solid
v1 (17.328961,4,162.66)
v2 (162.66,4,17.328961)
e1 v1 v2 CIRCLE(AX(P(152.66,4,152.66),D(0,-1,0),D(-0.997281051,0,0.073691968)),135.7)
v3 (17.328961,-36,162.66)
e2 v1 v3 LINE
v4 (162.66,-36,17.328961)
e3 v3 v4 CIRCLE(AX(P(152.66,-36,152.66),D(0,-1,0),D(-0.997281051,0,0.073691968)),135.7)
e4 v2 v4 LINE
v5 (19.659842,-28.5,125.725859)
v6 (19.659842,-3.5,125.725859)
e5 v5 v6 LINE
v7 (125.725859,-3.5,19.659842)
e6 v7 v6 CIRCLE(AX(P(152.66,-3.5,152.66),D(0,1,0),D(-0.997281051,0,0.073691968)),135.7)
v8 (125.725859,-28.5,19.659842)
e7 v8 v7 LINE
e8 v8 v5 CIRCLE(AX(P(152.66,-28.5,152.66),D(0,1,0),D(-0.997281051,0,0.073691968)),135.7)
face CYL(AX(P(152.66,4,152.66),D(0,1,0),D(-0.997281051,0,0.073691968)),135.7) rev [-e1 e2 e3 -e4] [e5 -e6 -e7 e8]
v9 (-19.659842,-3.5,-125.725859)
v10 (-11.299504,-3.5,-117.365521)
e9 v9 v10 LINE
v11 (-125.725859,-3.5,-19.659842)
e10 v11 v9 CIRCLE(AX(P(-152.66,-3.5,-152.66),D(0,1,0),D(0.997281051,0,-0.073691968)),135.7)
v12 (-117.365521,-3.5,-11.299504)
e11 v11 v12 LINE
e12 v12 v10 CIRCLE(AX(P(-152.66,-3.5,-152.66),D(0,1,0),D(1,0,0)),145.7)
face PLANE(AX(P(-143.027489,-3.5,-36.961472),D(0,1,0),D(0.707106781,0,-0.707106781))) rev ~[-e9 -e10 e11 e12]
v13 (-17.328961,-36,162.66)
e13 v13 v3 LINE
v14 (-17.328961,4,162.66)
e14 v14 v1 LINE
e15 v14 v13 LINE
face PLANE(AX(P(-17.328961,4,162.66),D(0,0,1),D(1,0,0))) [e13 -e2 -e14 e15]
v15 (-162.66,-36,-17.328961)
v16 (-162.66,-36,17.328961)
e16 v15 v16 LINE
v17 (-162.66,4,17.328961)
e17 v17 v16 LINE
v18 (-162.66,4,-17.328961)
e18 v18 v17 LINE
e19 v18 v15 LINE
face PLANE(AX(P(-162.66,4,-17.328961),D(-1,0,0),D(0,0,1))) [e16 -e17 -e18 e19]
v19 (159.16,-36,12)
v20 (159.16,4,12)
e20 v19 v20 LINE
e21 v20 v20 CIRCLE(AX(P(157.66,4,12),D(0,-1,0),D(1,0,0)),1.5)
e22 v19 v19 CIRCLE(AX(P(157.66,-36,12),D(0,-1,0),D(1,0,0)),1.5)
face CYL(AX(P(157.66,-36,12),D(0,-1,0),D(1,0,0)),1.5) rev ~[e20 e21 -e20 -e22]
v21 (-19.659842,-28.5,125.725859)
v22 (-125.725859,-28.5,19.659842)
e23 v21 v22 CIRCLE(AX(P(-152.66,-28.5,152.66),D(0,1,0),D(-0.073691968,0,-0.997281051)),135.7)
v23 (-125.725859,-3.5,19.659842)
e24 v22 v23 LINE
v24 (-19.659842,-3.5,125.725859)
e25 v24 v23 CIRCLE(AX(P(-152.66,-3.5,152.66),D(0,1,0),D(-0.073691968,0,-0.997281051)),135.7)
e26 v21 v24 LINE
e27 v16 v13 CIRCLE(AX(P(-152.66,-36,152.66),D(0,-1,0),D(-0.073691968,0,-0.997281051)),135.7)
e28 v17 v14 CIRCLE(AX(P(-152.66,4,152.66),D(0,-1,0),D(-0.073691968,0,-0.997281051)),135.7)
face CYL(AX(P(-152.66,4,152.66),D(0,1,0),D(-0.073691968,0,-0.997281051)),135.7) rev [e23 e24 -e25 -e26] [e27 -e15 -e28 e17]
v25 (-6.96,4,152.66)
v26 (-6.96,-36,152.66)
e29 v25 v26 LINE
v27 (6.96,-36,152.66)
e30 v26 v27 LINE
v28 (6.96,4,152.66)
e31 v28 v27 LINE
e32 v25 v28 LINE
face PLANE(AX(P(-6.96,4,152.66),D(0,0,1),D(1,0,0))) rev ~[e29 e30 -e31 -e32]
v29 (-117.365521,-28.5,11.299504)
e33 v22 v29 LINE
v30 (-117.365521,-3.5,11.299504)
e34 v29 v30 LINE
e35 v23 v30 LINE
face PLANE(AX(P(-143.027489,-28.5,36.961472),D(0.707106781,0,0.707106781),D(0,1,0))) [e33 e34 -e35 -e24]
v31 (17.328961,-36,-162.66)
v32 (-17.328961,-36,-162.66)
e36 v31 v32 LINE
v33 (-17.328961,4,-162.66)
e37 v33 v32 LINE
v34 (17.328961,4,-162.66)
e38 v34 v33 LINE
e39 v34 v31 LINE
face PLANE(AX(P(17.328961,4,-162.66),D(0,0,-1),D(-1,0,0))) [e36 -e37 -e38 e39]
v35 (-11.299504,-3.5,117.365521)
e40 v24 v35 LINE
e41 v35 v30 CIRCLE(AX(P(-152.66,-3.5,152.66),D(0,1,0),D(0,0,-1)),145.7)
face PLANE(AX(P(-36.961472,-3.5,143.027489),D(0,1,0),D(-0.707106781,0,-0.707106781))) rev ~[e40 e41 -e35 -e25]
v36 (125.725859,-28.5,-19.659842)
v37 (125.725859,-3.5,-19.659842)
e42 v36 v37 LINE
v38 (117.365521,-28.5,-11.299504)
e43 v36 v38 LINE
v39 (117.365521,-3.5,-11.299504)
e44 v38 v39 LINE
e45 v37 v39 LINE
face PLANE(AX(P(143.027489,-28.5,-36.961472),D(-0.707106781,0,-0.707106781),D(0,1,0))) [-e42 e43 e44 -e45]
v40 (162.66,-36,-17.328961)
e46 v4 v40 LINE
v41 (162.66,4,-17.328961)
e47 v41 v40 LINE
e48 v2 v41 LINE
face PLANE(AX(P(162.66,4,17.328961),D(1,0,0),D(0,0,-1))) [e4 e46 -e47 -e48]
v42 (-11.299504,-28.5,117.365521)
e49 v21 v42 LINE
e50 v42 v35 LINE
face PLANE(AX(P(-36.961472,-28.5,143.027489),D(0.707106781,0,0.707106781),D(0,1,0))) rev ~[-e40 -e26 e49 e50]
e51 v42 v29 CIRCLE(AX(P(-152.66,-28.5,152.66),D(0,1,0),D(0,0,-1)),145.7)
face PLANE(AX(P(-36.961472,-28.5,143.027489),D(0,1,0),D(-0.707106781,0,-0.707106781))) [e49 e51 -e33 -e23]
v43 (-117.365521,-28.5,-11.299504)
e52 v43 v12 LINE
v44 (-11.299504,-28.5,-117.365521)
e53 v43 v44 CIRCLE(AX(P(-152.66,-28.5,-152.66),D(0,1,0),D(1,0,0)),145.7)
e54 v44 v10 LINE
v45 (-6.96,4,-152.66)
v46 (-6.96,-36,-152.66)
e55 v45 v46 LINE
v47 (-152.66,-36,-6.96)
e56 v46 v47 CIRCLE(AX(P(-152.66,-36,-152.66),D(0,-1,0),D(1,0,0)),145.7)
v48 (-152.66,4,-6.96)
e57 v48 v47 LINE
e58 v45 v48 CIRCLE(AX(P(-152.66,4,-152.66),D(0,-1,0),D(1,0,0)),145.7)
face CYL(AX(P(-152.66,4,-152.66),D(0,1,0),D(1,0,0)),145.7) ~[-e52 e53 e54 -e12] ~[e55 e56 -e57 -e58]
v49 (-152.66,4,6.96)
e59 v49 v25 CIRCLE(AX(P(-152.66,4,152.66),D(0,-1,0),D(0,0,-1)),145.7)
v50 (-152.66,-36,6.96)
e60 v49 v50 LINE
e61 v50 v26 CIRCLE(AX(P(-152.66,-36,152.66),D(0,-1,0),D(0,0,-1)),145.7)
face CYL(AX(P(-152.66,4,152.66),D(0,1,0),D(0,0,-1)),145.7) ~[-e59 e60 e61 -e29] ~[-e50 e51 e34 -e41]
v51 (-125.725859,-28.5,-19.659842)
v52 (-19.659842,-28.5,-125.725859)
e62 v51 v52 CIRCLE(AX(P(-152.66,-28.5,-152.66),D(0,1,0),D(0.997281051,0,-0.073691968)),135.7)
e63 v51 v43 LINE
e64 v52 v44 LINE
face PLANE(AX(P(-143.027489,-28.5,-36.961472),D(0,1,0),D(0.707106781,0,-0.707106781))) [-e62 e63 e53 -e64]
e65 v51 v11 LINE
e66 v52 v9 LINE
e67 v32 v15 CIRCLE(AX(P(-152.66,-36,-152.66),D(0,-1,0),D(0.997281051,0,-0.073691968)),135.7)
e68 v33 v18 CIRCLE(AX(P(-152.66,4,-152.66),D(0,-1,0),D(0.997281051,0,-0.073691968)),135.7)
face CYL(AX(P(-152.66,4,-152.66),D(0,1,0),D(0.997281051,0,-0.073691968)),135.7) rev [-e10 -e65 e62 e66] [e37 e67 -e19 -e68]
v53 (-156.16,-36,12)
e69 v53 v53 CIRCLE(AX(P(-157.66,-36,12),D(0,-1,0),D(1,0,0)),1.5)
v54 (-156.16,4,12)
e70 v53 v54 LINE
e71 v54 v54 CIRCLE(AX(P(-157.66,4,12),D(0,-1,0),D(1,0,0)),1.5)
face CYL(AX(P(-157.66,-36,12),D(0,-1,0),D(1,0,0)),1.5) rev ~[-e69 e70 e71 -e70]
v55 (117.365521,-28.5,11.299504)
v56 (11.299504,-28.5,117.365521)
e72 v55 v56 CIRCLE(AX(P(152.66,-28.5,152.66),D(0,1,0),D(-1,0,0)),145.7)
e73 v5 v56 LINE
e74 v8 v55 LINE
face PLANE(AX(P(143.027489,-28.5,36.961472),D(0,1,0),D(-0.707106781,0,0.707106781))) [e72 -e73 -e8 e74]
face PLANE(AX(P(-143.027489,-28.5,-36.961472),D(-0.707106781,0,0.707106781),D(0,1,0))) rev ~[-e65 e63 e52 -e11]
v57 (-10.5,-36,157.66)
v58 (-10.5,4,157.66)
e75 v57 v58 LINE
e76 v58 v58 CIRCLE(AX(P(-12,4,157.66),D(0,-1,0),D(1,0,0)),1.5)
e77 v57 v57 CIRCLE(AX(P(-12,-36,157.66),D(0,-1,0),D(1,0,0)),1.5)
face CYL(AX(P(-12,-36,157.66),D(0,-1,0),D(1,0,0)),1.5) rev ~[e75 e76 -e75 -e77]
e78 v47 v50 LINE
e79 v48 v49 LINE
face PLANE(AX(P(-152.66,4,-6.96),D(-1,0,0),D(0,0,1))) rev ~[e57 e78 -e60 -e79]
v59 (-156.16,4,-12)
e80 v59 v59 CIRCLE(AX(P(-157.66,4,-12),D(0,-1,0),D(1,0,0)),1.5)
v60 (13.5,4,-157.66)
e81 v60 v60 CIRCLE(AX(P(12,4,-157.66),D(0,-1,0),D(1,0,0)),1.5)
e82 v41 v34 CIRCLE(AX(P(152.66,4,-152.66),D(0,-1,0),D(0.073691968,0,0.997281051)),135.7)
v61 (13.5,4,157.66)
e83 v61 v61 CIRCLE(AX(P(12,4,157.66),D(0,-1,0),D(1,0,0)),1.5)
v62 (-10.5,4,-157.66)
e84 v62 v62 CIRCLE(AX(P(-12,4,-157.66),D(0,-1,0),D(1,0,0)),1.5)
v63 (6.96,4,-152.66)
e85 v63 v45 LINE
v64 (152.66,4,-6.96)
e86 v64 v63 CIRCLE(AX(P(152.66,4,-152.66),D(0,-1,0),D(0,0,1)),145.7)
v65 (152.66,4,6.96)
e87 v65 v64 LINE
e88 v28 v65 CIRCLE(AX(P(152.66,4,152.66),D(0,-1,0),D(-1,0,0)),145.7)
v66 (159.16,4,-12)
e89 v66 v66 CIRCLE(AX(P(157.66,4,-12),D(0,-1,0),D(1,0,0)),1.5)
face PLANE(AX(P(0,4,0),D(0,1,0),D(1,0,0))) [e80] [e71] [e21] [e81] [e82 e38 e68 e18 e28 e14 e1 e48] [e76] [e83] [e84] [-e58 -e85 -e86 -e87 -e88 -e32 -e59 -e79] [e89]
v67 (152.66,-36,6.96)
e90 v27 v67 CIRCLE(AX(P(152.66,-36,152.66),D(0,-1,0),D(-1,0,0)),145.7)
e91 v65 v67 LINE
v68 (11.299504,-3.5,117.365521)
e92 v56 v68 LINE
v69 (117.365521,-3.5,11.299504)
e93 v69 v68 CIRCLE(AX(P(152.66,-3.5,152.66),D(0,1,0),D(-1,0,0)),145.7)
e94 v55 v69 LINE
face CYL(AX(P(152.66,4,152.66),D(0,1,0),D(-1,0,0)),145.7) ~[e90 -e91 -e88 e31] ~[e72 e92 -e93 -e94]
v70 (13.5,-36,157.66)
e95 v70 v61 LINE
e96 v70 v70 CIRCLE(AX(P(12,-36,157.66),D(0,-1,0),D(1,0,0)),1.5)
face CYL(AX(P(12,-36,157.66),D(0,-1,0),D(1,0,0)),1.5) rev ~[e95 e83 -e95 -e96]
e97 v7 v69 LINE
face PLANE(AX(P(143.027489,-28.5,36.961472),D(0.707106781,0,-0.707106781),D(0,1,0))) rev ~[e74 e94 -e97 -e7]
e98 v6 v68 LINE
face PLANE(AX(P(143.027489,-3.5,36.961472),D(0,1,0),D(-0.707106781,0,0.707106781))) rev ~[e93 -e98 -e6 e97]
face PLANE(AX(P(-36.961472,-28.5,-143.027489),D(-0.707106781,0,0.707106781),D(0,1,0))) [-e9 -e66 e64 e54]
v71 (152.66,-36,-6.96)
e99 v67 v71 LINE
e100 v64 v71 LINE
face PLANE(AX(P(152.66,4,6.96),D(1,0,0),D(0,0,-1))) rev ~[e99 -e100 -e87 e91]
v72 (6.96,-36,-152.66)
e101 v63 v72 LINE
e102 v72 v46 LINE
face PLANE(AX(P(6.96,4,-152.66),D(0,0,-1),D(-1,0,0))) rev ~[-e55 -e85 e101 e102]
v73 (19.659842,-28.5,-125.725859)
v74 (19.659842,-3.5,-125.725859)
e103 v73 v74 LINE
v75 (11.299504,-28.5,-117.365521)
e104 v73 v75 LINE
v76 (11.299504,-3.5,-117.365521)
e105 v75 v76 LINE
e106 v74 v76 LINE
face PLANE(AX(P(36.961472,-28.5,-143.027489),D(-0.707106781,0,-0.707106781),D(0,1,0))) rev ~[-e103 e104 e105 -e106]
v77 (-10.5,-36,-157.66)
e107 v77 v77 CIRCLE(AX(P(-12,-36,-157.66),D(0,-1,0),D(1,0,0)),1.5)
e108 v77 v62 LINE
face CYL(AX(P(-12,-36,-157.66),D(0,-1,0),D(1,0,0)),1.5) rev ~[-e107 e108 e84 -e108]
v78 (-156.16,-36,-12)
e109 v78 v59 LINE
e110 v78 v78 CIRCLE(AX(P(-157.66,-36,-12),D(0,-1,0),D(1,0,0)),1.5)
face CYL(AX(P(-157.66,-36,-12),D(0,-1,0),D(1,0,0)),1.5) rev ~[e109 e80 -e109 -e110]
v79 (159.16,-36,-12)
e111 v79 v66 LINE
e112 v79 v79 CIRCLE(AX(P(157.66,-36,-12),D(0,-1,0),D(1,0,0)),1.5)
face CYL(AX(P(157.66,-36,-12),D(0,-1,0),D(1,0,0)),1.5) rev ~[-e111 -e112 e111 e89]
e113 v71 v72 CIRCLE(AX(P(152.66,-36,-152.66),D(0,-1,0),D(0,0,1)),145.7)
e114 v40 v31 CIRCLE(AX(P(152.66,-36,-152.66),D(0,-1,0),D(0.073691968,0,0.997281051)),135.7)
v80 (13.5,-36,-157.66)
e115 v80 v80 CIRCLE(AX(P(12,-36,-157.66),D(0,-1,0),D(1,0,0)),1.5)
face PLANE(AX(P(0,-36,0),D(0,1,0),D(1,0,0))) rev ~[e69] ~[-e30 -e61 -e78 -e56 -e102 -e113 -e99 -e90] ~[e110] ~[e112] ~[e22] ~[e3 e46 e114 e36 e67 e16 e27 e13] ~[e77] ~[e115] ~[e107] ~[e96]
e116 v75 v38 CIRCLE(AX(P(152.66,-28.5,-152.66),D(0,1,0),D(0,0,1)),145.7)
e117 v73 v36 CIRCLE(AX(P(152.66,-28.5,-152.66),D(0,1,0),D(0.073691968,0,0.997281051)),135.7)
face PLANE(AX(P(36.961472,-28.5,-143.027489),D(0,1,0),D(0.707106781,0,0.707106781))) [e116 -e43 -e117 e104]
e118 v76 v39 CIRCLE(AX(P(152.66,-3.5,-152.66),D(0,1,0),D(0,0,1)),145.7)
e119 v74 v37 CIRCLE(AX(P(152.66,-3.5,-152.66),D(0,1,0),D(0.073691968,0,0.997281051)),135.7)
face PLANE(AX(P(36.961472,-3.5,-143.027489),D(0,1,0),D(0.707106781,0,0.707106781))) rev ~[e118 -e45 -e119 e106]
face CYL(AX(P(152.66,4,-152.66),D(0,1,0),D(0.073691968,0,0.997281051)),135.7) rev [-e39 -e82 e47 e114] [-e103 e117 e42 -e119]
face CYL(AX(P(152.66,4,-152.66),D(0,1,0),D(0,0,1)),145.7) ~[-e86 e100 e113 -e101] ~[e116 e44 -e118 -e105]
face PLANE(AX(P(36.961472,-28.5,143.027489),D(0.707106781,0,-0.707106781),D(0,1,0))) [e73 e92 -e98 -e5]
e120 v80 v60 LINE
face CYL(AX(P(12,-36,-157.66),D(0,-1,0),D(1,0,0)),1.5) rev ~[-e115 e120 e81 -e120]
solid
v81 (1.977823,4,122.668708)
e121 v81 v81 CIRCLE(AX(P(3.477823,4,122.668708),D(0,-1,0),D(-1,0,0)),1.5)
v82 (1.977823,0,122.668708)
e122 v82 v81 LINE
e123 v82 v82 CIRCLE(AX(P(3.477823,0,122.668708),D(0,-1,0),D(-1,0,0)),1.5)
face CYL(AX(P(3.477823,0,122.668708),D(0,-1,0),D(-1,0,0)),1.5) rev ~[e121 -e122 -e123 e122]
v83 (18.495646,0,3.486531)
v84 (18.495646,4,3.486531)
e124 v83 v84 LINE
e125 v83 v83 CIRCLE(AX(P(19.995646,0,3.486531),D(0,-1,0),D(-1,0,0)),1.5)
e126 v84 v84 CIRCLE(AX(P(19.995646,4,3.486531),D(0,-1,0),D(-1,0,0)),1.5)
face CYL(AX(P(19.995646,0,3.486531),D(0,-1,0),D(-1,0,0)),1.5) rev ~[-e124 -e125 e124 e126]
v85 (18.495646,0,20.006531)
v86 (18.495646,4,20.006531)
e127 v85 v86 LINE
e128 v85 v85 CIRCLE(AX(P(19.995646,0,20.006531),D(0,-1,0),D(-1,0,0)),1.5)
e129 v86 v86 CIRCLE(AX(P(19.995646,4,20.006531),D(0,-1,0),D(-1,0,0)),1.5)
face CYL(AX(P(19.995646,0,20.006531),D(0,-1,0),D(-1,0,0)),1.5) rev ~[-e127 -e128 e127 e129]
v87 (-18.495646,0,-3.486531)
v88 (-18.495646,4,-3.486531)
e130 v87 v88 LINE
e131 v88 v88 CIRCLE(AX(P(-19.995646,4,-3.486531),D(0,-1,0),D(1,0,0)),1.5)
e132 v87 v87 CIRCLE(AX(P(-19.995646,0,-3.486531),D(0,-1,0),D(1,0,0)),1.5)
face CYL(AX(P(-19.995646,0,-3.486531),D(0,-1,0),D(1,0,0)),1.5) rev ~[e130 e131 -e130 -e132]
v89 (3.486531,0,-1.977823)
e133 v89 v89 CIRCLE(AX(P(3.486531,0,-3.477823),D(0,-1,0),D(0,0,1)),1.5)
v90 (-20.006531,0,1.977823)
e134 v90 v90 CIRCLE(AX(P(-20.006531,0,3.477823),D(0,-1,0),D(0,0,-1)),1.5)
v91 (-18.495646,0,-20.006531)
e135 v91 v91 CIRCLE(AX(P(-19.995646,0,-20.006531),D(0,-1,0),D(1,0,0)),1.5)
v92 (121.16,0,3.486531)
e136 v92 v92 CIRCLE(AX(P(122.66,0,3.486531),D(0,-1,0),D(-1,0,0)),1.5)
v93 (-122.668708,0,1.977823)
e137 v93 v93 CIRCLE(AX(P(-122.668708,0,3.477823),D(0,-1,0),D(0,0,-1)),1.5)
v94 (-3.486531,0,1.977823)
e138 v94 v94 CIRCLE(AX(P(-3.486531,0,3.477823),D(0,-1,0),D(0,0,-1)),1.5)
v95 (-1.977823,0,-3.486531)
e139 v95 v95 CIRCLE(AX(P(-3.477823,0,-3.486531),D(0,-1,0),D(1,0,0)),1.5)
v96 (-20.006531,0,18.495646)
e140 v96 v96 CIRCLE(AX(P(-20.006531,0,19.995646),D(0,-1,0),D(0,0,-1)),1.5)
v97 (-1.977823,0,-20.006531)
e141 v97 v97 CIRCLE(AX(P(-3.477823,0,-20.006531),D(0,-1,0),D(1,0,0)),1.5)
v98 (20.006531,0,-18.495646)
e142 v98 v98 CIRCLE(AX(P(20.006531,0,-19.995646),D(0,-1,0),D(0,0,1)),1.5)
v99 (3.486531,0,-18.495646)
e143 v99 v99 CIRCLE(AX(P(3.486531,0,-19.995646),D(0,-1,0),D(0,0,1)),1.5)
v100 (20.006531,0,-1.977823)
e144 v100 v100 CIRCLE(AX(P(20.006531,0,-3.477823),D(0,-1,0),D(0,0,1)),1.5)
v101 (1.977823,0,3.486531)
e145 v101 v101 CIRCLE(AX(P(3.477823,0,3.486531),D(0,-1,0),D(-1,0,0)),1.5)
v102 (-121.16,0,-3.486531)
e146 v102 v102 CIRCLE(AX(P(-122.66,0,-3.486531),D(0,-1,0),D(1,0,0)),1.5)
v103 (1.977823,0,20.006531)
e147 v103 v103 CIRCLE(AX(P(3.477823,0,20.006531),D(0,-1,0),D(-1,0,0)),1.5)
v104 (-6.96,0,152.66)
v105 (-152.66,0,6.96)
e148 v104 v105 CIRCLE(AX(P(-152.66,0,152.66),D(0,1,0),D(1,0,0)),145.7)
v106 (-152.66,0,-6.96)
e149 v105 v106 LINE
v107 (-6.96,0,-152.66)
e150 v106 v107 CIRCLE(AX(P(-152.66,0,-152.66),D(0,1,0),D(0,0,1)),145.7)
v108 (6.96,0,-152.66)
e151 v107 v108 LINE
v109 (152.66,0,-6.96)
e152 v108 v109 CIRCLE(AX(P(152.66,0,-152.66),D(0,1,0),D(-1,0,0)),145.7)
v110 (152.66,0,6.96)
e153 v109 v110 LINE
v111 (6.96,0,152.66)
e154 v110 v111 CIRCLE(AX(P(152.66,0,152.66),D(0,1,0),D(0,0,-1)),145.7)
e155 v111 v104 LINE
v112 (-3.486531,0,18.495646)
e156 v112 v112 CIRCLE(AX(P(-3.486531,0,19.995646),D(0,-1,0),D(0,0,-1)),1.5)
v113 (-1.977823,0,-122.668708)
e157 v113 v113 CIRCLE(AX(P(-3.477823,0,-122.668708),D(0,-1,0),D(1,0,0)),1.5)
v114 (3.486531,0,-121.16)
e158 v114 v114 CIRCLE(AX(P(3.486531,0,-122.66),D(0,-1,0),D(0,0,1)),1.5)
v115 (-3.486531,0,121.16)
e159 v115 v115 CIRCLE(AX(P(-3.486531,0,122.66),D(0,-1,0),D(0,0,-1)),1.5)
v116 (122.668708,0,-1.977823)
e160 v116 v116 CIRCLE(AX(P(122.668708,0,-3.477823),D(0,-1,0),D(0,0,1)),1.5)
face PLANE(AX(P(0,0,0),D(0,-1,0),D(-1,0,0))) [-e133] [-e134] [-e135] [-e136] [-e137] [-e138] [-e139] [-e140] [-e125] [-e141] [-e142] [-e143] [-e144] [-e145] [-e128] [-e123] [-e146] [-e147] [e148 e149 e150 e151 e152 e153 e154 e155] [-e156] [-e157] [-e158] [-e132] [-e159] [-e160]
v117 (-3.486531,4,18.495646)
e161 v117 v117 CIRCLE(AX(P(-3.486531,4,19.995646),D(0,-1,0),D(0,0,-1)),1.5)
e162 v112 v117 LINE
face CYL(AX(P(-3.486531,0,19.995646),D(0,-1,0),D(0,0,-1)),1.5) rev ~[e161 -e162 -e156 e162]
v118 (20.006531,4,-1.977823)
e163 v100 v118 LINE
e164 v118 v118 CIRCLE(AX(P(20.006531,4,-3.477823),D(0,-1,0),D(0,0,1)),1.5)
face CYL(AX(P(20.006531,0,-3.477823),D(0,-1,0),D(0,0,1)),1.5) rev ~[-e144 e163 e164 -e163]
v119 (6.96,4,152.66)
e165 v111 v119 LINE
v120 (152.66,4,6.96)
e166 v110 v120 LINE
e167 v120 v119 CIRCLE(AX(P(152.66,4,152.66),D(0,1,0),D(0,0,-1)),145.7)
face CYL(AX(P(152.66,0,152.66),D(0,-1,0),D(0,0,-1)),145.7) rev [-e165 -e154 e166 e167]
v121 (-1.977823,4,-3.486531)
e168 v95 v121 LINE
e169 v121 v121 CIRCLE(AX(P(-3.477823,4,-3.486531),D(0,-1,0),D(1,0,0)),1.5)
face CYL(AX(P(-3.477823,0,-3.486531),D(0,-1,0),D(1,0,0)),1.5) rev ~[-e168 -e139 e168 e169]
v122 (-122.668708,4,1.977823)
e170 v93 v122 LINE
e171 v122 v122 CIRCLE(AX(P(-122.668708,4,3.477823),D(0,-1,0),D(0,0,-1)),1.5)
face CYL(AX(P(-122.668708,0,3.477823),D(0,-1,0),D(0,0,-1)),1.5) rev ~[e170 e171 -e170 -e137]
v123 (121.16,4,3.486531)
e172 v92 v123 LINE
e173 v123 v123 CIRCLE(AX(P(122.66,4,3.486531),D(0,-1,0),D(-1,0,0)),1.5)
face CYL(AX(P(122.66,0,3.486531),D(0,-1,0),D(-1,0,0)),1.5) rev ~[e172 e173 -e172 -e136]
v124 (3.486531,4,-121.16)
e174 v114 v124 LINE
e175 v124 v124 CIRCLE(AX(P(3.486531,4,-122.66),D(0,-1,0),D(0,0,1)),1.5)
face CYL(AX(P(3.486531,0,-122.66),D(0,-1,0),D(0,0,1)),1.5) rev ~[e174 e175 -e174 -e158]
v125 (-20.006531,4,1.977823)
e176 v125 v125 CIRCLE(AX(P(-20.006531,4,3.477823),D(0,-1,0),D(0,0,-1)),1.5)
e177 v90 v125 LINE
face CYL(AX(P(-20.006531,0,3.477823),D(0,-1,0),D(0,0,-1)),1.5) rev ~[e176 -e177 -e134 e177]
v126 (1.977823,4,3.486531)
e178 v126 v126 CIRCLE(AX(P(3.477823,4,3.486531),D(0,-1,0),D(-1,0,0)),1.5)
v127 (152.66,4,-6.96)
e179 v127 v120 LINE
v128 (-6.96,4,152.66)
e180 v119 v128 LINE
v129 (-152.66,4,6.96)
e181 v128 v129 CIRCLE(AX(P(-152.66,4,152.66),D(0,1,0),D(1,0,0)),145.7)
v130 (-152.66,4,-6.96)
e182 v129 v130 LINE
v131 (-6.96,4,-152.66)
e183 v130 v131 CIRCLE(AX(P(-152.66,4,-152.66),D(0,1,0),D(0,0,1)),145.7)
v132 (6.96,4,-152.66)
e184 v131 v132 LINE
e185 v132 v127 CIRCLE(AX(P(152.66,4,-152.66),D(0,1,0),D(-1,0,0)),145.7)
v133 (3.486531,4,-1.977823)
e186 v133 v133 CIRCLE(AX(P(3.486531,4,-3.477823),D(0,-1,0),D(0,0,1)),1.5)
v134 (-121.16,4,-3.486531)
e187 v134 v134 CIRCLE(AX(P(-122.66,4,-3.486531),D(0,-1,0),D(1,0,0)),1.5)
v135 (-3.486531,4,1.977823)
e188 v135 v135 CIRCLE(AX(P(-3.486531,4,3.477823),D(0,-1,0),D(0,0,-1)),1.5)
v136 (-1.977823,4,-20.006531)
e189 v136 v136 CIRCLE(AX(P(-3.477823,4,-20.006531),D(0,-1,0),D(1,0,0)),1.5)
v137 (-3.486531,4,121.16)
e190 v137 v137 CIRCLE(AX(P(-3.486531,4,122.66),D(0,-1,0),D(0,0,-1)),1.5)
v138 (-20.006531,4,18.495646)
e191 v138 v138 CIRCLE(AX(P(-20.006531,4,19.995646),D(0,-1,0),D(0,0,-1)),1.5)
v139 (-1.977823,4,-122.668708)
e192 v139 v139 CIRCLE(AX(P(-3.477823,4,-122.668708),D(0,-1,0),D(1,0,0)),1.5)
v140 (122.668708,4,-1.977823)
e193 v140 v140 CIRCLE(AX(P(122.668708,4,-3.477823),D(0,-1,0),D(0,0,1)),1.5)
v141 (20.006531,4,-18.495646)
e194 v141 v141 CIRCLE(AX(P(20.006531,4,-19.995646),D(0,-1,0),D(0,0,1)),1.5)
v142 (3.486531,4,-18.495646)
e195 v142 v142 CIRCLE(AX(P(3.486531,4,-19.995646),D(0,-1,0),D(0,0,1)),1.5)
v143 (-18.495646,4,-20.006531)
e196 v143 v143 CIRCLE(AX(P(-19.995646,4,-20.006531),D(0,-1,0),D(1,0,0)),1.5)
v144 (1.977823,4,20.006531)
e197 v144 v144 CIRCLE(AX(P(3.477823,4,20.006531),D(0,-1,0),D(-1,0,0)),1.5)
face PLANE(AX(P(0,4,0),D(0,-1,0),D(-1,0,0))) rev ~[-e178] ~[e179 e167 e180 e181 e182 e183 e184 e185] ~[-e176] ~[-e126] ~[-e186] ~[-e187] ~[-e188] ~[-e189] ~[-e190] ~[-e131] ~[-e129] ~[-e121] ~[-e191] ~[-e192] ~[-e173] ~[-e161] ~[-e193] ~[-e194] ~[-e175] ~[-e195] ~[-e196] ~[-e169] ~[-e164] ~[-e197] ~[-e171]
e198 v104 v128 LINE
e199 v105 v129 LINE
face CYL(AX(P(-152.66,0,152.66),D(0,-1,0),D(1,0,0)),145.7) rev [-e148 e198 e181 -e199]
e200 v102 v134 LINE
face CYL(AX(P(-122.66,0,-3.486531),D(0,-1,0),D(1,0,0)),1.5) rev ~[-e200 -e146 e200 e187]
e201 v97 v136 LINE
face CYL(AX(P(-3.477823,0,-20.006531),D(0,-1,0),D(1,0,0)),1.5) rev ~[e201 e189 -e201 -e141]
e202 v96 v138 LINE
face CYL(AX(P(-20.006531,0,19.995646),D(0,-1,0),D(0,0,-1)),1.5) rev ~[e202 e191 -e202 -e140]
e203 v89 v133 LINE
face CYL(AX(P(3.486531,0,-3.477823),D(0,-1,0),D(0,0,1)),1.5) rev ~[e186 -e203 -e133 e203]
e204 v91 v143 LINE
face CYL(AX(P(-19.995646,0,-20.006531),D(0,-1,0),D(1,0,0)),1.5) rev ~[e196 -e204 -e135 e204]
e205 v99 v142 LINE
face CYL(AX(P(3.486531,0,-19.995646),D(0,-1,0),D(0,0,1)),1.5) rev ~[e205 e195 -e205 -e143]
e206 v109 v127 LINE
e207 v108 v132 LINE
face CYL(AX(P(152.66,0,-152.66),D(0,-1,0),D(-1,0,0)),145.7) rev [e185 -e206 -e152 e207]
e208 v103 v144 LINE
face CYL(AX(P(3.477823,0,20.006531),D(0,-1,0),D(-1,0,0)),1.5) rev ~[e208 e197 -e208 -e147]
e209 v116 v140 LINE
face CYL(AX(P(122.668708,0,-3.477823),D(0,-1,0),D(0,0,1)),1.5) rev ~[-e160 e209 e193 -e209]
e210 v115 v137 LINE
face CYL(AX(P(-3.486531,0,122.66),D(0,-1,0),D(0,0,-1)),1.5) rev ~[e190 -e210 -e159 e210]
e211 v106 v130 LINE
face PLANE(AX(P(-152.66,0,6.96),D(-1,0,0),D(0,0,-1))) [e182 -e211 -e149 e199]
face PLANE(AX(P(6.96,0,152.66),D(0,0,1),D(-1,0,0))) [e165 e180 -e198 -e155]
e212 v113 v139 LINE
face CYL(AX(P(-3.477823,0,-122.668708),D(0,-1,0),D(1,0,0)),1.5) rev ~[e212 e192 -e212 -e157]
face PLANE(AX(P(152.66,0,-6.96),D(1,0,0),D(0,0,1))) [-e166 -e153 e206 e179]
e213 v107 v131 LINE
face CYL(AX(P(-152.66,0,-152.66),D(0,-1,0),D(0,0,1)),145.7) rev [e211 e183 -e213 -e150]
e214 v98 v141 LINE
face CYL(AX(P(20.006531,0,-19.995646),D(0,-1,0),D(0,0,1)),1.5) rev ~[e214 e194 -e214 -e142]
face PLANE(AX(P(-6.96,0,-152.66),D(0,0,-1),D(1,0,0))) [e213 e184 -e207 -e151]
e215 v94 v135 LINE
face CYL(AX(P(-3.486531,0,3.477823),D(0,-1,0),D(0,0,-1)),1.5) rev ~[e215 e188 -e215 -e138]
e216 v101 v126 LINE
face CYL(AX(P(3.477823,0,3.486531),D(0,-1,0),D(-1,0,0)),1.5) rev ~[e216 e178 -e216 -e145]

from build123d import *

# Parameters (mm, degrees)
BOSS_EXTRUDE1_DEPTH = 4
SKETCH3_R           = 1.5
CUT_EXTRUDE1_DEPTH  = 100
SKETCH4_R           = 1.5
CUT_EXTRUDE2_DEPTH  = 100
CIRPATTERN1_COUNT   = 4
BOSS_EXTRUDE2_DEPTH = 40
SKETCH8_R           = 1.5
CUT_EXTRUDE3_DEPTH  = 40
SKETCH9_W           = 150
SKETCH9_H           = 25
CUT_EXTRUDE7_DEPTH  = 59
CIRPATTERN2_COUNT   = 4


with BuildPart() as part:
    # Sketch1 → Boss-Extrude1 (new body)
    with BuildSketch(Plane(origin=(0, 0, 0), x_dir=(1, 0, 0), z_dir=(0, 1, 0))):
        with BuildLine():
            Line((-6.96, 152.66), (6.96, 152.66))
            ThreePointArc((6.96, 152.66), (49.634541981, 49.634541981), (152.66, 6.96))
            Line((152.66, 6.96), (152.66, -6.96))
            ThreePointArc((152.66, -6.96), (49.634541981, -49.634541981), (6.96, -152.66))
            Line((6.96, -152.66), (-6.96, -152.66))
            ThreePointArc((-6.96, -152.66), (-49.634541981, -49.634541981), (-152.66, -6.96))
            Line((-152.66, -6.96), (-152.66, 6.96))
            ThreePointArc((-152.66, 6.96), (-49.634541981, 49.634541981), (-6.96, 152.66))
        make_face()
    extrude(amount=BOSS_EXTRUDE1_DEPTH)

    # Sketch3 → Cut-Extrude1 (cut)
    with BuildSketch(Plane.XZ):
        with Locations((-19.995645942, -3.486531087)):
            Circle(SKETCH3_R)
        with Locations((-3.477822971, -3.486531087)):
            Circle(SKETCH3_R)
        with Locations((-3.477822971, -20.006531087)):
            Circle(SKETCH3_R)
        with Locations((-19.995645942, -20.006531087)):
            Circle(SKETCH3_R)
        with Locations((-122.66, -3.486531087)):
            Circle(SKETCH3_R)
    cut_extrude1 = extrude(amount=-CUT_EXTRUDE1_DEPTH, mode=Mode.SUBTRACT)

    # Sketch4 → Cut-Extrude2 (cut)
    with BuildSketch(Plane.XZ):
        with Locations((-3.477822971, -122.668708116)):
            Circle(SKETCH4_R)
    cut_extrude2 = extrude(amount=-CUT_EXTRUDE2_DEPTH, mode=Mode.SUBTRACT)

    # CirPattern1: Cut-Extrude1, Cut-Extrude2 ×4 about axis
    cirpattern1_axis = Axis((0, 0, 0), (0, 1, 0))
    for i in range(1, CIRPATTERN1_COUNT):
        add(cut_extrude1.rotate(cirpattern1_axis, i * 360 / CIRPATTERN1_COUNT), mode=Mode.SUBTRACT)
        add(cut_extrude2.rotate(cirpattern1_axis, i * 360 / CIRPATTERN1_COUNT), mode=Mode.SUBTRACT)


with BuildPart() as body_2:
    # Sketch6 → Boss-Extrude2 (new body)
    with BuildSketch(Plane(origin=(0, 4, 0), x_dir=(1, 0, 0), z_dir=(0, 1, 0))):
        with BuildLine():
            Line((17.328961432, 162.66), (-17.328961432, 162.66))
            ThreePointArc((-17.328961432, 162.66), (-56.705609793, 56.705609793), (-162.66, 17.328961432))
            Line((-162.66, 17.328961432), (-162.66, -17.328961432))
            ThreePointArc((-162.66, -17.328961432), (-56.705609793, -56.705609793), (-17.328961432, -162.66))
            Line((-17.328961432, -162.66), (17.328961432, -162.66))
            ThreePointArc((17.328961432, -162.66), (56.705609793, -56.705609793), (162.66, -17.328961432))
            Line((162.66, -17.328961432), (162.66, 17.328961432))
            ThreePointArc((162.66, 17.328961432), (56.705609793, 56.705609793), (17.328961432, 162.66))
        make_face()
        with BuildLine():
            Line((6.96, 152.66), (-6.96, 152.66))
            ThreePointArc((-6.96, 152.66), (-49.634541981, 49.634541981), (-152.66, 6.96))
            Line((-152.66, 6.96), (-152.66, -6.96))
            ThreePointArc((-152.66, -6.96), (-49.634541981, -49.634541981), (-6.96, -152.66))
            Line((-6.96, -152.66), (6.96, -152.66))
            ThreePointArc((6.96, -152.66), (49.634541981, -49.634541981), (152.66, -6.96))
            Line((152.66, -6.96), (152.66, 6.96))
            ThreePointArc((152.66, 6.96), (49.634541981, 49.634541981), (6.96, 152.66))
        make_face(mode=Mode.SUBTRACT)
    extrude(amount=-BOSS_EXTRUDE2_DEPTH)

    # Sketch8 → Cut-Extrude3 (cut)
    with BuildSketch(Plane.XZ.offset(36)):
        with Locations((-157.66, 12)):
            Circle(SKETCH8_R)
        with Locations((-157.66, -12)):
            Circle(SKETCH8_R)
        with Locations((-12, 157.66)):
            Circle(SKETCH8_R)
        with Locations((12, 157.66)):
            Circle(SKETCH8_R)
        with Locations((157.66, -12)):
            Circle(SKETCH8_R)
        with Locations((157.66, 12)):
            Circle(SKETCH8_R)
        with Locations((-12, -157.66)):
            Circle(SKETCH8_R)
        with Locations((12, -157.66)):
            Circle(SKETCH8_R)
    extrude(amount=-CUT_EXTRUDE3_DEPTH, mode=Mode.SUBTRACT)

    # Sketch9 → Cut-Extrude7 (cut)
    with BuildSketch(Plane(origin=(89.994480716, 0, -89.994480716), x_dir=(0.707106781, 0, 0.707106781), z_dir=(-0.707106781, 0, 0.707106781))):
        with Locations((0, -16)):
            Rectangle(SKETCH9_W, SKETCH9_H)
    cut_extrude7 = extrude(amount=CUT_EXTRUDE7_DEPTH, mode=Mode.SUBTRACT)

    # CirPattern2: Cut-Extrude7 ×4 about axis
    cirpattern2_axis = Axis((0, 0, 0), (0, 1, 0))
    for i in range(1, CIRPATTERN2_COUNT):
        add(cut_extrude7.rotate(cirpattern2_axis, i * 360 / CIRPATTERN2_COUNT), mode=Mode.SUBTRACT)


solid = Compound([part.part, body_2.part])
